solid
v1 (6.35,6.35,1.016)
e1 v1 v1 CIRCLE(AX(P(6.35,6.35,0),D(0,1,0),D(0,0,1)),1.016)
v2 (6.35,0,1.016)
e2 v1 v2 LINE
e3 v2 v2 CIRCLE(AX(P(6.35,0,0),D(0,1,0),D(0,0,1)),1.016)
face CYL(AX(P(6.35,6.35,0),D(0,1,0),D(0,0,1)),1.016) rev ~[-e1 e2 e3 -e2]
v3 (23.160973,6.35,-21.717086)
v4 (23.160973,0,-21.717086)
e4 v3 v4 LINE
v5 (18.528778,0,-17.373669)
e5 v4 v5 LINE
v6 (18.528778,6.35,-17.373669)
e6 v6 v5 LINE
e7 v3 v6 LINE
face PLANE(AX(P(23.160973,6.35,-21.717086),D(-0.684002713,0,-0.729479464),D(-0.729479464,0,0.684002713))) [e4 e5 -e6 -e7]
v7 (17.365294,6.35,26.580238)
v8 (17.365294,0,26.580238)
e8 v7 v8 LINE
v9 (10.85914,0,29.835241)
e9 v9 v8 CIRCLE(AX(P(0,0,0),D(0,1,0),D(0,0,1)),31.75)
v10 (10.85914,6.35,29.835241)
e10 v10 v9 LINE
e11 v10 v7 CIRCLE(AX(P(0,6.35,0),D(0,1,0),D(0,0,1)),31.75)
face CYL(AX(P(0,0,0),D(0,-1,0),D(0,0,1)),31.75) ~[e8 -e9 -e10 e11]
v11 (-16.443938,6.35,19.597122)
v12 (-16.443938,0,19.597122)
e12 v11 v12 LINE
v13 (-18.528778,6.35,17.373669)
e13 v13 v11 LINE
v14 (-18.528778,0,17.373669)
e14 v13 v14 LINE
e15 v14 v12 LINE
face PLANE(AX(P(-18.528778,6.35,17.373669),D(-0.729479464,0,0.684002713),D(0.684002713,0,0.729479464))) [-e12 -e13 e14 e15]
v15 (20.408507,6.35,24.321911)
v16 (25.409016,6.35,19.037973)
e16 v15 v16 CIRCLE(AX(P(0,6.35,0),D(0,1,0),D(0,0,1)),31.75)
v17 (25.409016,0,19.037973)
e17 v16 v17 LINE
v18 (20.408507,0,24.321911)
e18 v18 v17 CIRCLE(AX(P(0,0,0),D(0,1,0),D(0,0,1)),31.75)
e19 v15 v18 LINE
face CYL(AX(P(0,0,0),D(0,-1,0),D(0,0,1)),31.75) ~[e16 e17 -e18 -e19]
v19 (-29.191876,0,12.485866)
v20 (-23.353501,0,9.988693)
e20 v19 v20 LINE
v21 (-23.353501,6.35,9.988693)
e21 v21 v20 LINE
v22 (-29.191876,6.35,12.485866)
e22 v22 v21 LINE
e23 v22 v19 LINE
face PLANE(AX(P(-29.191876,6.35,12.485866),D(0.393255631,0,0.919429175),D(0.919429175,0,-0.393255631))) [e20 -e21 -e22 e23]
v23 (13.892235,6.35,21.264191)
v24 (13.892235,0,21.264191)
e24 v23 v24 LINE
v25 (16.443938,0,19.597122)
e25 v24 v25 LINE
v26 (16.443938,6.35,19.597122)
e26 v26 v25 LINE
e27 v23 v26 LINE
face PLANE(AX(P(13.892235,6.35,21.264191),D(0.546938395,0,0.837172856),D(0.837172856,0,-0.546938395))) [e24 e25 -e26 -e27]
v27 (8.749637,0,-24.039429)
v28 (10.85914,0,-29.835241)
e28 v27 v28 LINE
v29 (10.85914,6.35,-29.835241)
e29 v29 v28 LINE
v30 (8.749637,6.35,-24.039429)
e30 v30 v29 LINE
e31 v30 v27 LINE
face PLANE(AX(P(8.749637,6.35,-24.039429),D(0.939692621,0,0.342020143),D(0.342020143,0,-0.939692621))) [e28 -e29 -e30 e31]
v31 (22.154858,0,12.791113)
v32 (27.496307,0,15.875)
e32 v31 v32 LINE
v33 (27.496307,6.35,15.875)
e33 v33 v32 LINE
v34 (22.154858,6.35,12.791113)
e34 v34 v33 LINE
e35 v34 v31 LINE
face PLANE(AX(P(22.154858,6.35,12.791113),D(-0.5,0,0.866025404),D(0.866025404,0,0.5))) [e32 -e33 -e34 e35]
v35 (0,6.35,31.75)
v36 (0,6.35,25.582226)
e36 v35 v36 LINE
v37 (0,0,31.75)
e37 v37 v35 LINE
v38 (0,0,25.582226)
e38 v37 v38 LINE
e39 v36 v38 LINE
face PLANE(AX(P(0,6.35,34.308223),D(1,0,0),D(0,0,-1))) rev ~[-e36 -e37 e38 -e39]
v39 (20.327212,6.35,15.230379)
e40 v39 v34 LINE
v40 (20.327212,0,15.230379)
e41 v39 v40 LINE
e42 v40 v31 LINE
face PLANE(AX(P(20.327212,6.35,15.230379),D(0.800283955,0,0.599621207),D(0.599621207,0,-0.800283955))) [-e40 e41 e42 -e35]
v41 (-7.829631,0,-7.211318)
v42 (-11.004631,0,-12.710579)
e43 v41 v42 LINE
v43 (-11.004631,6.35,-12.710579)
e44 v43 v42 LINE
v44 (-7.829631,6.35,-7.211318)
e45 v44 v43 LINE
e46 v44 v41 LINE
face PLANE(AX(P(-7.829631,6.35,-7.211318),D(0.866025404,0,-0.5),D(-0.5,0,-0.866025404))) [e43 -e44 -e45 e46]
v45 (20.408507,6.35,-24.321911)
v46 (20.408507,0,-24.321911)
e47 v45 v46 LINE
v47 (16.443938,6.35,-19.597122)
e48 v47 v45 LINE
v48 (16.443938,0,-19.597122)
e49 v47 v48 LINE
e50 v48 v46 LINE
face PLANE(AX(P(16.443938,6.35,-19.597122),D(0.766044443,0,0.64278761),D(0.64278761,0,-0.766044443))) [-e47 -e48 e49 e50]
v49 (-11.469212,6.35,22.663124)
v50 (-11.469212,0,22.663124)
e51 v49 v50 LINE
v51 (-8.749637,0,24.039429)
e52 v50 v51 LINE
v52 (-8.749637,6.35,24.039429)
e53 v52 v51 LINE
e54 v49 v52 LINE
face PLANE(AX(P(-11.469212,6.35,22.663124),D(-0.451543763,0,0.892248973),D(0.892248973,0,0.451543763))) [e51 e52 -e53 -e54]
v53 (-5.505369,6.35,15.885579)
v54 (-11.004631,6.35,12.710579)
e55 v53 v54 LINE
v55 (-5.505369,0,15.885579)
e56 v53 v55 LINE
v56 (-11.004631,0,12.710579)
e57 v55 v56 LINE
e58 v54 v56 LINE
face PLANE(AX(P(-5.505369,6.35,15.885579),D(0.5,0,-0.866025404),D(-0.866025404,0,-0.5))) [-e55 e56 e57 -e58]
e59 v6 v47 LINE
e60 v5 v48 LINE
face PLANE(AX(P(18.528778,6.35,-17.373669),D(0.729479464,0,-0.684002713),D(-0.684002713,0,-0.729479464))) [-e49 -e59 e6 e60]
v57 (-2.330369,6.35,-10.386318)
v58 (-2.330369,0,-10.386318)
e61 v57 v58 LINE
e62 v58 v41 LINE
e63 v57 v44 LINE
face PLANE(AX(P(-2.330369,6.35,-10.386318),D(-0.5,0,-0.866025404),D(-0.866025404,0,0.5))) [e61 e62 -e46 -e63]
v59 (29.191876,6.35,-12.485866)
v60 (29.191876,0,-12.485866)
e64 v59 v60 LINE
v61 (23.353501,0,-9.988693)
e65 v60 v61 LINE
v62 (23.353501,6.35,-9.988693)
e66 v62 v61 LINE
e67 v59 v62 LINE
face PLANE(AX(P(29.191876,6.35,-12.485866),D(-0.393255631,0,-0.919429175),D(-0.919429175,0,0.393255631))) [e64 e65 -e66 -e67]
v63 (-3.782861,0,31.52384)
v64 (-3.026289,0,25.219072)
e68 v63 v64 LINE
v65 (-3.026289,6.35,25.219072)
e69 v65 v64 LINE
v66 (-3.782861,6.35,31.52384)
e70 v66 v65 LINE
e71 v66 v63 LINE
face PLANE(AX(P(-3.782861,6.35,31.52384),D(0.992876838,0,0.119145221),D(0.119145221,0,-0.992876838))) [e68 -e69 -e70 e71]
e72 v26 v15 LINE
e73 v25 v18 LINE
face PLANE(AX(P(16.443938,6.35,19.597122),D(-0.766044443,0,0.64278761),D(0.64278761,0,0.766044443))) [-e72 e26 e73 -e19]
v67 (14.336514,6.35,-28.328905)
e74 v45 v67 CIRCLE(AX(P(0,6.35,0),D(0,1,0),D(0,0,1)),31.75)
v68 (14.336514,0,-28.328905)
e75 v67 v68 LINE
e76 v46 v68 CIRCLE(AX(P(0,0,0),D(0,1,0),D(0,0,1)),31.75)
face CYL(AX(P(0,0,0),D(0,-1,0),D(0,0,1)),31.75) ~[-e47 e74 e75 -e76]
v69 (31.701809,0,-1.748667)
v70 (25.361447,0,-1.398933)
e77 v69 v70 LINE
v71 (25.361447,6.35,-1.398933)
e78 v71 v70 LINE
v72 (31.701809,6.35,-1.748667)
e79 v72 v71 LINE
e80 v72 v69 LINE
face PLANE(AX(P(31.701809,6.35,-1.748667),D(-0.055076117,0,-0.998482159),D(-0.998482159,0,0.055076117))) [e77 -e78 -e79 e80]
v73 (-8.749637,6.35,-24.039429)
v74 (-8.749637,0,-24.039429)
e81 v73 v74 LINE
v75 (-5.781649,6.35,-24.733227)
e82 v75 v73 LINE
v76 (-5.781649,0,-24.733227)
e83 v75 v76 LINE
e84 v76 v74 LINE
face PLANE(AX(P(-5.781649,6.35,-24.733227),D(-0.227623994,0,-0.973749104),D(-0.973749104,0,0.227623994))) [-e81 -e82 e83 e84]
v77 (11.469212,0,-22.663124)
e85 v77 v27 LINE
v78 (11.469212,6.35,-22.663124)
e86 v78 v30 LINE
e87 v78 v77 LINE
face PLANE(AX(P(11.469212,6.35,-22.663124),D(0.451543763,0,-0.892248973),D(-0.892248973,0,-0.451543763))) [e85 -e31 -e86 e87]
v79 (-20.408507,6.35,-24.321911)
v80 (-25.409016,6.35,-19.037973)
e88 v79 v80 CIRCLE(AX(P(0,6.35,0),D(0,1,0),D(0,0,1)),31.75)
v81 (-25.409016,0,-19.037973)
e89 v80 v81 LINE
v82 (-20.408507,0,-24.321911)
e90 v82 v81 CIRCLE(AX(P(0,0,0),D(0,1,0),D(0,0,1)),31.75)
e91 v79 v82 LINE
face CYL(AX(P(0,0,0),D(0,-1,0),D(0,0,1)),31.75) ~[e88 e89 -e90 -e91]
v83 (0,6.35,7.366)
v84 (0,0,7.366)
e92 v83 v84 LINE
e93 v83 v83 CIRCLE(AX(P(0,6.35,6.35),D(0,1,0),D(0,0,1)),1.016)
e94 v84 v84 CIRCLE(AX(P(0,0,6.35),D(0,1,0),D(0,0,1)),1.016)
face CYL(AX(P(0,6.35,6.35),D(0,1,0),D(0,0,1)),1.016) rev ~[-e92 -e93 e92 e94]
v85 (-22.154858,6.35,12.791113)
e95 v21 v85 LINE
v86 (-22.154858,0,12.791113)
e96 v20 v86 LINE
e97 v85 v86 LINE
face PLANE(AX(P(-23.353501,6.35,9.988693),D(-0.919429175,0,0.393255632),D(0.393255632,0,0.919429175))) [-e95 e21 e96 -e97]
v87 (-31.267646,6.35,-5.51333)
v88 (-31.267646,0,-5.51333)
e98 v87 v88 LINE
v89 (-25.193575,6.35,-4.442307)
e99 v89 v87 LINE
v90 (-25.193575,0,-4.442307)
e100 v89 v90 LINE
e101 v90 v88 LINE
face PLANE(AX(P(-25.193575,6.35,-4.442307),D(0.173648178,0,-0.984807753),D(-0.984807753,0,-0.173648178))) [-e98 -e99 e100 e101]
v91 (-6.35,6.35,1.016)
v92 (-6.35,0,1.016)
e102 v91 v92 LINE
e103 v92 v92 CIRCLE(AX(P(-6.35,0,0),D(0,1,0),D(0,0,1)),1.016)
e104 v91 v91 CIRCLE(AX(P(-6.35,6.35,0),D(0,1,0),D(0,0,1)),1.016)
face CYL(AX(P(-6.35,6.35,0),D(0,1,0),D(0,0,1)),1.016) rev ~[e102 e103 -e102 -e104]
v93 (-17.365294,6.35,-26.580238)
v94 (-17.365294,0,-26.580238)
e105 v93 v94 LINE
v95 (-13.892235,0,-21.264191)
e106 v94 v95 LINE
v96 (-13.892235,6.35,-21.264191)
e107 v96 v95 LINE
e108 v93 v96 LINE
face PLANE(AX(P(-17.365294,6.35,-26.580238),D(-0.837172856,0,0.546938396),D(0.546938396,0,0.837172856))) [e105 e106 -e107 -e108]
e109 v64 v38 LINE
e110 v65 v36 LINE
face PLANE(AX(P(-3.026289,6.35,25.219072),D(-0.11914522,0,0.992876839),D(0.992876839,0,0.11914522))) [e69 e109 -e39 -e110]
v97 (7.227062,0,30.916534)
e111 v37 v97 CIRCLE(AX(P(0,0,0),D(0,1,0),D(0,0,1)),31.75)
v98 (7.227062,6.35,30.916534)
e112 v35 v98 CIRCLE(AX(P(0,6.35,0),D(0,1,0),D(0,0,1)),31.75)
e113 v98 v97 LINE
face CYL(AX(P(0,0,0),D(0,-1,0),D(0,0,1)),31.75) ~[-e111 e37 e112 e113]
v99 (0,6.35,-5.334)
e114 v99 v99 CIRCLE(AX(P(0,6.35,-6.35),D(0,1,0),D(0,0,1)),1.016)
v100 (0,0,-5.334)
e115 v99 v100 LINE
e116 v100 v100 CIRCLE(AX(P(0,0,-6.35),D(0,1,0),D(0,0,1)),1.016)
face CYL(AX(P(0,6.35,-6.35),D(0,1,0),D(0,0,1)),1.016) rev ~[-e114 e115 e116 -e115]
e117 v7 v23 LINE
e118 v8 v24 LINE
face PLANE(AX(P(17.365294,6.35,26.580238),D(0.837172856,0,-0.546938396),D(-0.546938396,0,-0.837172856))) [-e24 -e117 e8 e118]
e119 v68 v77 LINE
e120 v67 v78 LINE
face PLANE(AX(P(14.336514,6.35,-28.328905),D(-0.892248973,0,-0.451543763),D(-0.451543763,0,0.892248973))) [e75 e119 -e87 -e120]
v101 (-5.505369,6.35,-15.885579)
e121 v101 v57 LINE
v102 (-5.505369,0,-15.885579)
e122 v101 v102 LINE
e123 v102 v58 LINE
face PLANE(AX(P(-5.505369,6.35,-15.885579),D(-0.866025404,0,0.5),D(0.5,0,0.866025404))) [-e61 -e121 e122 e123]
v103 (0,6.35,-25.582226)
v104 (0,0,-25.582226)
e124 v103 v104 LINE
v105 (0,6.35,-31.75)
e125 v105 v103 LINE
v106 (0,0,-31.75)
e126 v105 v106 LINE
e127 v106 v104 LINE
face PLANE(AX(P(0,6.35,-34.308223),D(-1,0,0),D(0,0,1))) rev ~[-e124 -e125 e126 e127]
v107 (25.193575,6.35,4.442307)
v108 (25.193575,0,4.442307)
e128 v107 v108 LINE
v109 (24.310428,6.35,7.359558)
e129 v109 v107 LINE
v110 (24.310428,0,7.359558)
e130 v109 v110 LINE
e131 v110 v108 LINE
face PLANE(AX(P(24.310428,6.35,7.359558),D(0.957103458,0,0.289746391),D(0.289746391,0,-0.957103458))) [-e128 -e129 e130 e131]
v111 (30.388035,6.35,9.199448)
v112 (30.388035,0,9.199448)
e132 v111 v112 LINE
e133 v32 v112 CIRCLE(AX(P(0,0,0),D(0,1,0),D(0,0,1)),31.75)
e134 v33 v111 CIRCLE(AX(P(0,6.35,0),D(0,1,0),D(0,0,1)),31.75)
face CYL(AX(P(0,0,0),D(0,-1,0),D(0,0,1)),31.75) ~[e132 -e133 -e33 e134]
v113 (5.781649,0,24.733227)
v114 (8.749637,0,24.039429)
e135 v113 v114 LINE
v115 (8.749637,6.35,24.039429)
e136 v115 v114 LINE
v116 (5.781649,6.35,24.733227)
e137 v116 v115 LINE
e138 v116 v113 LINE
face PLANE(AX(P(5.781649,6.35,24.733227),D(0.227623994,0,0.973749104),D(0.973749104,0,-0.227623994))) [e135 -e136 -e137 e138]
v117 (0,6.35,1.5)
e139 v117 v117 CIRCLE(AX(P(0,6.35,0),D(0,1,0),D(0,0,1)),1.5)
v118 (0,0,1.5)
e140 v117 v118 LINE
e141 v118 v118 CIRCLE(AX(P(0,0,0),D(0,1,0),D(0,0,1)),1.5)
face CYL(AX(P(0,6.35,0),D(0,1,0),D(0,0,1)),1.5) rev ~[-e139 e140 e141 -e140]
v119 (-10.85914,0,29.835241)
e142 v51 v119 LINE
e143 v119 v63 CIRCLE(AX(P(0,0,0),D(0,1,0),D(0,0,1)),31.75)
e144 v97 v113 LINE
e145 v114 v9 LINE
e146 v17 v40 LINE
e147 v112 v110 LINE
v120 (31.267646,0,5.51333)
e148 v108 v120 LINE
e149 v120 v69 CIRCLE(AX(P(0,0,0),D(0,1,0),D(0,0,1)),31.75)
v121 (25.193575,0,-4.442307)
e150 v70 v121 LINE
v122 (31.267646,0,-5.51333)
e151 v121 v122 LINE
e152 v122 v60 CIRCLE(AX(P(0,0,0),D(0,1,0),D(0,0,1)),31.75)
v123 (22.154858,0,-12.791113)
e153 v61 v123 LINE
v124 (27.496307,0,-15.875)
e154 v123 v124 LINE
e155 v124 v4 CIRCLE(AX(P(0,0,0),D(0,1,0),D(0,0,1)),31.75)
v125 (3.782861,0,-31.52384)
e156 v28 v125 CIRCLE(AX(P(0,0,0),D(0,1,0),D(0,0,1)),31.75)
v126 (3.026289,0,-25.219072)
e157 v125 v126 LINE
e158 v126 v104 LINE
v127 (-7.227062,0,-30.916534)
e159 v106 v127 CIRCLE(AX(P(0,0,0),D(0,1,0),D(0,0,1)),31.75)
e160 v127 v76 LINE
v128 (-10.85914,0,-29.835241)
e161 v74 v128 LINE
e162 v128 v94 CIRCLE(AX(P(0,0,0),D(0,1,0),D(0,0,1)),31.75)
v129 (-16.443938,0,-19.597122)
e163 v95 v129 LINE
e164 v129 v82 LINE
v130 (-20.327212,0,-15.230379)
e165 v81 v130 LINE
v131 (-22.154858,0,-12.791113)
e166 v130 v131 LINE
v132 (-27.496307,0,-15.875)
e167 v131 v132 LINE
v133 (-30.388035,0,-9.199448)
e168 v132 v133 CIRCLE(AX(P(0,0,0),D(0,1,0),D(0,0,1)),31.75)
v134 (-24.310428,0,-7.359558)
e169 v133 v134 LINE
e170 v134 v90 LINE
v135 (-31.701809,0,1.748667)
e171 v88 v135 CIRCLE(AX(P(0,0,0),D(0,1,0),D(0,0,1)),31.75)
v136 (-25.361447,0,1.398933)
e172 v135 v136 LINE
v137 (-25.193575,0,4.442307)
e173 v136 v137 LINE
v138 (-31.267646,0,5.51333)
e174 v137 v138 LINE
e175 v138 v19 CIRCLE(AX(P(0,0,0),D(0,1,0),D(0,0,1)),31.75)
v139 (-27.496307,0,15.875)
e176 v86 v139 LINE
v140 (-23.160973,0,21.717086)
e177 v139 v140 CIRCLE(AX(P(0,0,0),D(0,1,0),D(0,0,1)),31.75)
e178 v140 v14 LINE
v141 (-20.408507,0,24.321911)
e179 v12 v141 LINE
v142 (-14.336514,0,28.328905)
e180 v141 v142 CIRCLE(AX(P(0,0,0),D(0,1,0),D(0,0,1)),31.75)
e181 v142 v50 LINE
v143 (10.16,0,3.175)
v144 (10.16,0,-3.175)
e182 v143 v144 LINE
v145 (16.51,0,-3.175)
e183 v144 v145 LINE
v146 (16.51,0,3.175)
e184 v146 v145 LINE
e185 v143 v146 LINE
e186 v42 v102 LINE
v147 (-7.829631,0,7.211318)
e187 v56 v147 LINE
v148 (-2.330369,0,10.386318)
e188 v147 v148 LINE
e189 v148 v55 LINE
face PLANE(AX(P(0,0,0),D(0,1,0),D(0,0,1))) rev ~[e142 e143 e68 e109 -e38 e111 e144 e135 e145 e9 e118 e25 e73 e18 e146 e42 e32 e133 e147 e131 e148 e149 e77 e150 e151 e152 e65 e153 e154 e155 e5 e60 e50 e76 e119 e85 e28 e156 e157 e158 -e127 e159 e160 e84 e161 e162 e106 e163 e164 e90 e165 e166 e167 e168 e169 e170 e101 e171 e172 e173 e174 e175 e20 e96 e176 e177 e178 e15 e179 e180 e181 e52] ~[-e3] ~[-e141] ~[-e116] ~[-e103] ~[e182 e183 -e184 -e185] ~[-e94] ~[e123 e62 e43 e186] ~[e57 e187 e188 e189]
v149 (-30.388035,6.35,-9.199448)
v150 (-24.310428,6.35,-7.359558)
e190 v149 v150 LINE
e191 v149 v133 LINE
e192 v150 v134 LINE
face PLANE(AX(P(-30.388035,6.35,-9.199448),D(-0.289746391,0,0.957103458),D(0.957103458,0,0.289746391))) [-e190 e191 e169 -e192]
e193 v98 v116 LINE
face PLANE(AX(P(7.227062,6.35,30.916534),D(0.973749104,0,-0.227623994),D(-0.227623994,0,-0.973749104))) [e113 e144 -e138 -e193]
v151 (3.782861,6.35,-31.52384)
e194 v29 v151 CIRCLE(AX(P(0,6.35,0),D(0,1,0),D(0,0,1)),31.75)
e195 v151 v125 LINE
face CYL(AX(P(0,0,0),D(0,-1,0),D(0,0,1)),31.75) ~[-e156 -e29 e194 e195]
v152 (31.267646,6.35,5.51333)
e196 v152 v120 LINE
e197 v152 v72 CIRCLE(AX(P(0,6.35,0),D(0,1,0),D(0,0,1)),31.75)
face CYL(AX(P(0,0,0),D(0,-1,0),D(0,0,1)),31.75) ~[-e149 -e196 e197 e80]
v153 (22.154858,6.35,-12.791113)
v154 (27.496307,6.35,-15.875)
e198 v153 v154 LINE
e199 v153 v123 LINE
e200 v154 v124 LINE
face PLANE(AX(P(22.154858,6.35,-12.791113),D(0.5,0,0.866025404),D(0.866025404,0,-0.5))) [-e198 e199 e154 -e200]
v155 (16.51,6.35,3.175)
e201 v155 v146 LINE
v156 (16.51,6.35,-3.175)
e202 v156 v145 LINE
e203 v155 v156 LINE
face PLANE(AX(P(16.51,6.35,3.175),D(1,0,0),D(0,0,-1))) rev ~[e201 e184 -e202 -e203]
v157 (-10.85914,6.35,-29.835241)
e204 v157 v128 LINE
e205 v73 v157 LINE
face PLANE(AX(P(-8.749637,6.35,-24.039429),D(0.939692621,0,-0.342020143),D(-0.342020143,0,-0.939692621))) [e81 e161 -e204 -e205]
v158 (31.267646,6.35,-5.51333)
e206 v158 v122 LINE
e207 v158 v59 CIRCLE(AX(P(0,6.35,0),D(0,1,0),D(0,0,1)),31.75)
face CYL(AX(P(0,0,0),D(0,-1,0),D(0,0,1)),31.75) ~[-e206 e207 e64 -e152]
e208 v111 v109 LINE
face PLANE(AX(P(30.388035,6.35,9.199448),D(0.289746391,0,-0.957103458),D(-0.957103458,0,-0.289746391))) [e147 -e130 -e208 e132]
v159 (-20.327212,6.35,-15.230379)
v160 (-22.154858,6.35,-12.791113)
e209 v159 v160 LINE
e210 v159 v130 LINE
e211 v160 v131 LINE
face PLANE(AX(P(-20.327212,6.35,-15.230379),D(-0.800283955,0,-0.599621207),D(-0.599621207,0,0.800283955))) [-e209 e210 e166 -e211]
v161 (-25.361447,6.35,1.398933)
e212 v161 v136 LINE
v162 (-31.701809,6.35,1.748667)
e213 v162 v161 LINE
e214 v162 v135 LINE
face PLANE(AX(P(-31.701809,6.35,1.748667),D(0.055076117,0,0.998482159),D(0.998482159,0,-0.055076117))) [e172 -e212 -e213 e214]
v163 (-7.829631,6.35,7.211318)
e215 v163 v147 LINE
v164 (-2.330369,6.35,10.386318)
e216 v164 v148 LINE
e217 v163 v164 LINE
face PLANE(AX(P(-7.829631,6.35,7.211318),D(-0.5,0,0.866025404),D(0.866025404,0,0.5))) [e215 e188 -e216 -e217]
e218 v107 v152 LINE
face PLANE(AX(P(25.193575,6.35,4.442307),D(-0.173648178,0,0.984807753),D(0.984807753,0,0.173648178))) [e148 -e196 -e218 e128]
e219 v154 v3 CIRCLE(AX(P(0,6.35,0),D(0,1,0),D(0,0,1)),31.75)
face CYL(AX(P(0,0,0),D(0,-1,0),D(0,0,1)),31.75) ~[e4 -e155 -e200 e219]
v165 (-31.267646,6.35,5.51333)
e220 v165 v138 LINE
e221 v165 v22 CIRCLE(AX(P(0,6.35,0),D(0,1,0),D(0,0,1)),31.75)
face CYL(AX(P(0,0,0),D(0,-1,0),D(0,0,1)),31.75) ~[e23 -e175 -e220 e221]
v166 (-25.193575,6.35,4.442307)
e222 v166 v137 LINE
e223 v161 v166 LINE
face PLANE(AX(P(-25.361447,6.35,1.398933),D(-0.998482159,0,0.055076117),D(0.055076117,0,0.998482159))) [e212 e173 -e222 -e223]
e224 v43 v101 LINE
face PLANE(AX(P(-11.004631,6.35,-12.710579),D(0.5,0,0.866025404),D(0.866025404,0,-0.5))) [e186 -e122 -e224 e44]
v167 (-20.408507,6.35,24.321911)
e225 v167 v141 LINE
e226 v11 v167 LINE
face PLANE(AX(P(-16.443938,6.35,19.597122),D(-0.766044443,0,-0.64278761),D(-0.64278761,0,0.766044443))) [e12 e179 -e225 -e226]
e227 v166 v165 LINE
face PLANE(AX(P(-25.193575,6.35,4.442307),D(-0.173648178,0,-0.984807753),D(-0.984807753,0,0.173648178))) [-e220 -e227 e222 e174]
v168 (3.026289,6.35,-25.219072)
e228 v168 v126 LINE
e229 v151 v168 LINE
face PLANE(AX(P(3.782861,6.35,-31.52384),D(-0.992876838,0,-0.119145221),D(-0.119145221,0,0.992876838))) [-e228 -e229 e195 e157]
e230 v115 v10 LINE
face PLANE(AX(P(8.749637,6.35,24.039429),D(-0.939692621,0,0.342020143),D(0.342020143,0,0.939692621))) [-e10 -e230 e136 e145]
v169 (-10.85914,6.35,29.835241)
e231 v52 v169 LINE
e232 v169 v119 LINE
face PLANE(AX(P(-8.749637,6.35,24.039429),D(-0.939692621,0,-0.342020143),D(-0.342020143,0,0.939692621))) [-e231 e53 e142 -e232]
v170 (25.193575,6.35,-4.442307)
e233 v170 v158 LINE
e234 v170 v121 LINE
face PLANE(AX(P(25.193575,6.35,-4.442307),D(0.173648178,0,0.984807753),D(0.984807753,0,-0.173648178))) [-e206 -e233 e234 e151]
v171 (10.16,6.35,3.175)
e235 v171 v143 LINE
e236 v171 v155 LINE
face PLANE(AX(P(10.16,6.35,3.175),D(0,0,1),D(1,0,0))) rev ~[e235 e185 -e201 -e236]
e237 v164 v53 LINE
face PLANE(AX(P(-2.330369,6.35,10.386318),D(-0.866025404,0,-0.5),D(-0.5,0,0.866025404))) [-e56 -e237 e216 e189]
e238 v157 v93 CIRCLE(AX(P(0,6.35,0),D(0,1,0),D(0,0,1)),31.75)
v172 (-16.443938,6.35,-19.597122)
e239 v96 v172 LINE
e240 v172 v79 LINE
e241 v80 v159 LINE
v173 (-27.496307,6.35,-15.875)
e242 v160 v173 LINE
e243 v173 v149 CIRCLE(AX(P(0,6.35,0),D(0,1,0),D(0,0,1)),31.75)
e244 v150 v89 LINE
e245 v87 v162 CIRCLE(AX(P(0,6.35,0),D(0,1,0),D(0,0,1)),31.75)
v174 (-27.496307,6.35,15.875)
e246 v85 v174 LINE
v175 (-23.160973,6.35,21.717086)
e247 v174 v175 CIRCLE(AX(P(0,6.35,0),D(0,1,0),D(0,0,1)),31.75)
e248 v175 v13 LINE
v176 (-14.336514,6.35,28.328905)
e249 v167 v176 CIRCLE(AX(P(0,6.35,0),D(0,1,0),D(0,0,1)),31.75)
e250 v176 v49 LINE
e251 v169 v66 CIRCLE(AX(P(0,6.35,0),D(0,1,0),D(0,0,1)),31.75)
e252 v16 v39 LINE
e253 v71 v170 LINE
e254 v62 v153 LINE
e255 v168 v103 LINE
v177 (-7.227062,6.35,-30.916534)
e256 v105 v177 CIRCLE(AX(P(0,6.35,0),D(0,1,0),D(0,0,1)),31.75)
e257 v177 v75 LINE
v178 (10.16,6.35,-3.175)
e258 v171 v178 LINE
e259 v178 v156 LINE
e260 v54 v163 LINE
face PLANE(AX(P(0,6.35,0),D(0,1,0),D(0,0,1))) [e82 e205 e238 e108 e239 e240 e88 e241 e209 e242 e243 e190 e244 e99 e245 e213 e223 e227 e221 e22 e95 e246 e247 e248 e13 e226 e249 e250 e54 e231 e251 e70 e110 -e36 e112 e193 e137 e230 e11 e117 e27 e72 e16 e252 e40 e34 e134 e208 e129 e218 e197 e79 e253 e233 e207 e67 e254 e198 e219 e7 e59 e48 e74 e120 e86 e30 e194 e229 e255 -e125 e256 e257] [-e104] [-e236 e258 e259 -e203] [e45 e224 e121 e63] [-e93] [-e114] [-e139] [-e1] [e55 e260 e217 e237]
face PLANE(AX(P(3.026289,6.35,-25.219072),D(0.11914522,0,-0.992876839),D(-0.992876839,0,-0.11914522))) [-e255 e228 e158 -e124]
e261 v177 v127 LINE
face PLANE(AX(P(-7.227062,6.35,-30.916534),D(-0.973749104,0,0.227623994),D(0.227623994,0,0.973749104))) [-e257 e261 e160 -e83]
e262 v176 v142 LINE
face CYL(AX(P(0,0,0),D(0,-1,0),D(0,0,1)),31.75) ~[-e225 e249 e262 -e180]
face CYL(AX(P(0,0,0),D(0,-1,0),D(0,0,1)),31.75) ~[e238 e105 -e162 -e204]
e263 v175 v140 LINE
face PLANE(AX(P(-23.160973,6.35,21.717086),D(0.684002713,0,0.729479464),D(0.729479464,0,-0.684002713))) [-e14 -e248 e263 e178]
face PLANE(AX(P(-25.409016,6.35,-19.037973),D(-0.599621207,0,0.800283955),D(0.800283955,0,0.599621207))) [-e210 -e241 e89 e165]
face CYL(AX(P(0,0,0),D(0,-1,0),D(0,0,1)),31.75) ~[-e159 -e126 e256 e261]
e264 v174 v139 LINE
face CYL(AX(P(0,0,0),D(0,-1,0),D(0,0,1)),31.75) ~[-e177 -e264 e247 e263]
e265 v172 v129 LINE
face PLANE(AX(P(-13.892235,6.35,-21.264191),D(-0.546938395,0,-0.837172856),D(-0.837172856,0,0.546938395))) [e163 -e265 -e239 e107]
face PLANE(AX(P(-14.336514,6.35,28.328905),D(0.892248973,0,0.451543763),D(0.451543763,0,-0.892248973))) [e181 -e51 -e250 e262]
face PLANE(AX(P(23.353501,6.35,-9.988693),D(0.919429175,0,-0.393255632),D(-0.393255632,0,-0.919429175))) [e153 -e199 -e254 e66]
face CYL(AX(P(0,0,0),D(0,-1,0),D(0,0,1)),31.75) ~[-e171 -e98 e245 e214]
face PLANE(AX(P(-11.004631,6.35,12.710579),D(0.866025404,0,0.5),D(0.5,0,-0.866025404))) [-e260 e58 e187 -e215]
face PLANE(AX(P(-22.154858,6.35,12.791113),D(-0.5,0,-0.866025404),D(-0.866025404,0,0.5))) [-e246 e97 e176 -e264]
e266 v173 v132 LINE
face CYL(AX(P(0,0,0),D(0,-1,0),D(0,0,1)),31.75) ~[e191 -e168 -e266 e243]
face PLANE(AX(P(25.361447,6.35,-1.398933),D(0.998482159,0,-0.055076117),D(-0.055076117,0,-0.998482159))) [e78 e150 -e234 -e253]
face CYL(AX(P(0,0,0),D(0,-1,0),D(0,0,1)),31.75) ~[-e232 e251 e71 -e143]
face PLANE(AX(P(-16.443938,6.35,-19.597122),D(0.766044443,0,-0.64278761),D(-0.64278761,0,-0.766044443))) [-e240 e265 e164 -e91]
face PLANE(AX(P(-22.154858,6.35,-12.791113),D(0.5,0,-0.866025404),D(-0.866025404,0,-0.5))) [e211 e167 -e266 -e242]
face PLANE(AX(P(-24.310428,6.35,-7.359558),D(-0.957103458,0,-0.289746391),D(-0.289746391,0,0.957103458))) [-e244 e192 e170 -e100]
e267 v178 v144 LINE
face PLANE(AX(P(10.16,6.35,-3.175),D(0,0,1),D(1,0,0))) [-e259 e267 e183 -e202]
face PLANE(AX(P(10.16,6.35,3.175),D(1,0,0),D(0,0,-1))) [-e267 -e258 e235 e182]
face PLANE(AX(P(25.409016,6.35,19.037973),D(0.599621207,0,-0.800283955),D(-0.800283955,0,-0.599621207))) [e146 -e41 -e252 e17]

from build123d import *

# Parameters (mm, degrees)
SKETCH1_R           = 31.75
BOSS_EXTRUDE1_DEPTH = 6.35
CUT_EXTRUDE1_DEPTH  = 6.35
SKETCH3_R           = 1.500000048
SKETCH3_W           = 6.35
SKETCH3_H           = 6.35
CUT_EXTRUDE2_DEPTH  = 6.35
SKETCH4_R           = 1.016
CUT_EXTRUDE3_DEPTH  = 6.35


with BuildPart() as part:
    # Sketch1 → Boss-Extrude1 (new body)
    with BuildSketch(Plane(origin=(0, 0, 0), x_dir=(1, 0, 0), z_dir=(0, 1, 0))):
        with Locations(Location((0, 0, 0), (0, 0, 270))):
            Circle(SKETCH1_R)
    extrude(amount=BOSS_EXTRUDE1_DEPTH)

    # Sketch2 → Cut-Extrude1 (cut)
    with BuildSketch(Plane(origin=(0, 6.35, 0), x_dir=(1, 0, 0), z_dir=(0, 1, 0))):
        Polygon((3.782860755, 31.523839622), (3.026288604, 25.219071698), (0, 25.58222633), (0, 31.75), (0, 34.308222633), (4.087660755, 34.063839622), align=None)
        Polygon((14.336514482, 28.328904894), (11.469211586, 22.663123915), (8.749636716, 24.039429306), (10.859139551, 29.83524071), (11.734103222, 32.239183641), (15.491663957, 30.611476411), align=None)
        Polygon((23.160972979, 21.717086146), (18.528778383, 17.373668917), (16.443938113, 19.597122323), (20.408506608, 24.321911069), (22.052900419, 26.281623301), (25.027143854, 23.466917368), align=None)
        Polygon((29.191876315, 12.485866298), (23.353501052, 9.988693039), (22.154857887, 12.791113165), (27.49630657, 15.875), (29.711792359, 17.154111317), (31.54398084, 13.491901755), align=None)
        Polygon((31.701808541, 1.748666704), (25.361446833, 1.398933363), (25.193574829, 4.442306983), (31.267646158, 5.513329641), (33.787003641, 5.957560339), (34.256148198, 1.889563672), align=None)
        Polygon((30.388034788, -9.199447903), (24.31042783, -7.359558323), (25.193574829, -4.442306983), (31.267646158, -5.513329641), (33.787003641, -5.957560339), (32.836518516, -9.940683678), align=None)
        Polygon((25.40901556, -19.037973323), (20.327212448, -15.230378659), (22.154857887, -12.791113165), (27.49630657, -15.875), (29.711792359, -17.154111317), (27.456320086, -20.571937867), align=None)
        Polygon((17.365294059, -26.58023819), (13.892235247, -21.264190552), (16.443938113, -19.597122323), (20.408506608, -24.321911069), (22.052900419, -26.281623301), (18.764484241, -28.721912739), align=None)
        Polygon((7.227061809, -30.916534049), (5.781649447, -24.733227239), (8.749636716, -24.039429306), (10.859139551, -29.83524071), (11.734103222, -32.239183641), (7.809374662, -33.407601046), align=None)
        Polygon((-3.782860755, -31.523839622), (-3.026288604, -25.219071698), (0, -25.58222633), (0, -31.75), (0, -34.308222633), (-4.087660755, -34.063839622), align=None)
        Polygon((-14.336514482, -28.328904894), (-11.469211586, -22.663123915), (-8.749636716, -24.039429306), (-10.859139551, -29.83524071), (-11.734103222, -32.239183641), (-15.491663957, -30.611476411), align=None)
        Polygon((-23.160972979, -21.717086146), (-18.528778383, -17.373668917), (-16.443938113, -19.597122323), (-20.408506608, -24.321911069), (-22.052900419, -26.281623301), (-25.027143854, -23.466917368), align=None)
        Polygon((-29.191876315, -12.485866298), (-23.353501052, -9.988693039), (-22.154857887, -12.791113165), (-27.49630657, -15.875), (-29.711792359, -17.154111317), (-31.54398084, -13.491901755), align=None)
        Polygon((-31.701808541, -1.748666704), (-25.361446833, -1.398933363), (-25.193574829, -4.442306983), (-31.267646158, -5.513329641), (-33.787003641, -5.957560339), (-34.256148198, -1.889563672), align=None)
        Polygon((-30.388034788, 9.199447903), (-24.31042783, 7.359558323), (-25.193574829, 4.442306983), (-31.267646158, 5.513329641), (-33.787003641, 5.957560339), (-32.836518516, 9.940683678), align=None)
        Polygon((-25.40901556, 19.037973323), (-20.327212448, 15.230378659), (-22.154857887, 12.791113165), (-27.49630657, 15.875), (-29.711792359, 17.154111317), (-27.456320086, 20.571937867), align=None)
        Polygon((-17.365294059, 26.58023819), (-13.892235247, 21.264190552), (-16.443938113, 19.597122323), (-20.408506608, 24.321911069), (-22.052900419, 26.281623301), (-18.764484241, 28.721912739), align=None)
        Polygon((-7.227061809, 30.916534049), (-5.781649447, 24.733227239), (-8.749636716, 24.039429306), (-10.859139551, 29.83524071), (-11.734103222, 32.239183641), (-7.809374662, 33.407601046), align=None)
    extrude(amount=-CUT_EXTRUDE1_DEPTH, mode=Mode.SUBTRACT)

    # Sketch3 → Cut-Extrude2 (cut)
    with BuildSketch(Plane(origin=(0, 6.35, 0), x_dir=(1, 0, 0), z_dir=(0, 1, 0))):
        with Locations(Location((0, 0, 0), (0, 0, 270))):
            Circle(SKETCH3_R)
        Polygon((-2.330369343, -10.386318102), (-5.505369343, -15.885579416), (-11.004630657, -12.710579416), (-7.829630657, -7.211318102), align=None)
        Polygon((-7.829630657, 7.211318102), (-11.004630657, 12.710579416), (-5.505369343, 15.885579416), (-2.330369343, 10.386318102), align=None)
        with Locations((13.335, 0)):
            Rectangle(SKETCH3_W, SKETCH3_H)
    extrude(amount=-CUT_EXTRUDE2_DEPTH, mode=Mode.SUBTRACT)

    # Sketch4 → Cut-Extrude3 (cut)
    with BuildSketch(Plane(origin=(0, 6.35, 0), x_dir=(1, 0, 0), z_dir=(0, 1, 0))):
        with Locations(Location((6.35, 0, 0), (0, 0, 270))):
            Circle(SKETCH4_R)
        with Locations(Location((0, -6.35, 0), (0, 0, 270))):
            Circle(SKETCH4_R)
        with Locations(Location((-6.35, 0, 0), (0, 0, 270))):
            Circle(SKETCH4_R)
        with Locations(Location((0, 6.35, 0), (0, 0, 270))):
            Circle(SKETCH4_R)
    extrude(amount=-CUT_EXTRUDE3_DEPTH, mode=Mode.SUBTRACT)


solid = part.part
